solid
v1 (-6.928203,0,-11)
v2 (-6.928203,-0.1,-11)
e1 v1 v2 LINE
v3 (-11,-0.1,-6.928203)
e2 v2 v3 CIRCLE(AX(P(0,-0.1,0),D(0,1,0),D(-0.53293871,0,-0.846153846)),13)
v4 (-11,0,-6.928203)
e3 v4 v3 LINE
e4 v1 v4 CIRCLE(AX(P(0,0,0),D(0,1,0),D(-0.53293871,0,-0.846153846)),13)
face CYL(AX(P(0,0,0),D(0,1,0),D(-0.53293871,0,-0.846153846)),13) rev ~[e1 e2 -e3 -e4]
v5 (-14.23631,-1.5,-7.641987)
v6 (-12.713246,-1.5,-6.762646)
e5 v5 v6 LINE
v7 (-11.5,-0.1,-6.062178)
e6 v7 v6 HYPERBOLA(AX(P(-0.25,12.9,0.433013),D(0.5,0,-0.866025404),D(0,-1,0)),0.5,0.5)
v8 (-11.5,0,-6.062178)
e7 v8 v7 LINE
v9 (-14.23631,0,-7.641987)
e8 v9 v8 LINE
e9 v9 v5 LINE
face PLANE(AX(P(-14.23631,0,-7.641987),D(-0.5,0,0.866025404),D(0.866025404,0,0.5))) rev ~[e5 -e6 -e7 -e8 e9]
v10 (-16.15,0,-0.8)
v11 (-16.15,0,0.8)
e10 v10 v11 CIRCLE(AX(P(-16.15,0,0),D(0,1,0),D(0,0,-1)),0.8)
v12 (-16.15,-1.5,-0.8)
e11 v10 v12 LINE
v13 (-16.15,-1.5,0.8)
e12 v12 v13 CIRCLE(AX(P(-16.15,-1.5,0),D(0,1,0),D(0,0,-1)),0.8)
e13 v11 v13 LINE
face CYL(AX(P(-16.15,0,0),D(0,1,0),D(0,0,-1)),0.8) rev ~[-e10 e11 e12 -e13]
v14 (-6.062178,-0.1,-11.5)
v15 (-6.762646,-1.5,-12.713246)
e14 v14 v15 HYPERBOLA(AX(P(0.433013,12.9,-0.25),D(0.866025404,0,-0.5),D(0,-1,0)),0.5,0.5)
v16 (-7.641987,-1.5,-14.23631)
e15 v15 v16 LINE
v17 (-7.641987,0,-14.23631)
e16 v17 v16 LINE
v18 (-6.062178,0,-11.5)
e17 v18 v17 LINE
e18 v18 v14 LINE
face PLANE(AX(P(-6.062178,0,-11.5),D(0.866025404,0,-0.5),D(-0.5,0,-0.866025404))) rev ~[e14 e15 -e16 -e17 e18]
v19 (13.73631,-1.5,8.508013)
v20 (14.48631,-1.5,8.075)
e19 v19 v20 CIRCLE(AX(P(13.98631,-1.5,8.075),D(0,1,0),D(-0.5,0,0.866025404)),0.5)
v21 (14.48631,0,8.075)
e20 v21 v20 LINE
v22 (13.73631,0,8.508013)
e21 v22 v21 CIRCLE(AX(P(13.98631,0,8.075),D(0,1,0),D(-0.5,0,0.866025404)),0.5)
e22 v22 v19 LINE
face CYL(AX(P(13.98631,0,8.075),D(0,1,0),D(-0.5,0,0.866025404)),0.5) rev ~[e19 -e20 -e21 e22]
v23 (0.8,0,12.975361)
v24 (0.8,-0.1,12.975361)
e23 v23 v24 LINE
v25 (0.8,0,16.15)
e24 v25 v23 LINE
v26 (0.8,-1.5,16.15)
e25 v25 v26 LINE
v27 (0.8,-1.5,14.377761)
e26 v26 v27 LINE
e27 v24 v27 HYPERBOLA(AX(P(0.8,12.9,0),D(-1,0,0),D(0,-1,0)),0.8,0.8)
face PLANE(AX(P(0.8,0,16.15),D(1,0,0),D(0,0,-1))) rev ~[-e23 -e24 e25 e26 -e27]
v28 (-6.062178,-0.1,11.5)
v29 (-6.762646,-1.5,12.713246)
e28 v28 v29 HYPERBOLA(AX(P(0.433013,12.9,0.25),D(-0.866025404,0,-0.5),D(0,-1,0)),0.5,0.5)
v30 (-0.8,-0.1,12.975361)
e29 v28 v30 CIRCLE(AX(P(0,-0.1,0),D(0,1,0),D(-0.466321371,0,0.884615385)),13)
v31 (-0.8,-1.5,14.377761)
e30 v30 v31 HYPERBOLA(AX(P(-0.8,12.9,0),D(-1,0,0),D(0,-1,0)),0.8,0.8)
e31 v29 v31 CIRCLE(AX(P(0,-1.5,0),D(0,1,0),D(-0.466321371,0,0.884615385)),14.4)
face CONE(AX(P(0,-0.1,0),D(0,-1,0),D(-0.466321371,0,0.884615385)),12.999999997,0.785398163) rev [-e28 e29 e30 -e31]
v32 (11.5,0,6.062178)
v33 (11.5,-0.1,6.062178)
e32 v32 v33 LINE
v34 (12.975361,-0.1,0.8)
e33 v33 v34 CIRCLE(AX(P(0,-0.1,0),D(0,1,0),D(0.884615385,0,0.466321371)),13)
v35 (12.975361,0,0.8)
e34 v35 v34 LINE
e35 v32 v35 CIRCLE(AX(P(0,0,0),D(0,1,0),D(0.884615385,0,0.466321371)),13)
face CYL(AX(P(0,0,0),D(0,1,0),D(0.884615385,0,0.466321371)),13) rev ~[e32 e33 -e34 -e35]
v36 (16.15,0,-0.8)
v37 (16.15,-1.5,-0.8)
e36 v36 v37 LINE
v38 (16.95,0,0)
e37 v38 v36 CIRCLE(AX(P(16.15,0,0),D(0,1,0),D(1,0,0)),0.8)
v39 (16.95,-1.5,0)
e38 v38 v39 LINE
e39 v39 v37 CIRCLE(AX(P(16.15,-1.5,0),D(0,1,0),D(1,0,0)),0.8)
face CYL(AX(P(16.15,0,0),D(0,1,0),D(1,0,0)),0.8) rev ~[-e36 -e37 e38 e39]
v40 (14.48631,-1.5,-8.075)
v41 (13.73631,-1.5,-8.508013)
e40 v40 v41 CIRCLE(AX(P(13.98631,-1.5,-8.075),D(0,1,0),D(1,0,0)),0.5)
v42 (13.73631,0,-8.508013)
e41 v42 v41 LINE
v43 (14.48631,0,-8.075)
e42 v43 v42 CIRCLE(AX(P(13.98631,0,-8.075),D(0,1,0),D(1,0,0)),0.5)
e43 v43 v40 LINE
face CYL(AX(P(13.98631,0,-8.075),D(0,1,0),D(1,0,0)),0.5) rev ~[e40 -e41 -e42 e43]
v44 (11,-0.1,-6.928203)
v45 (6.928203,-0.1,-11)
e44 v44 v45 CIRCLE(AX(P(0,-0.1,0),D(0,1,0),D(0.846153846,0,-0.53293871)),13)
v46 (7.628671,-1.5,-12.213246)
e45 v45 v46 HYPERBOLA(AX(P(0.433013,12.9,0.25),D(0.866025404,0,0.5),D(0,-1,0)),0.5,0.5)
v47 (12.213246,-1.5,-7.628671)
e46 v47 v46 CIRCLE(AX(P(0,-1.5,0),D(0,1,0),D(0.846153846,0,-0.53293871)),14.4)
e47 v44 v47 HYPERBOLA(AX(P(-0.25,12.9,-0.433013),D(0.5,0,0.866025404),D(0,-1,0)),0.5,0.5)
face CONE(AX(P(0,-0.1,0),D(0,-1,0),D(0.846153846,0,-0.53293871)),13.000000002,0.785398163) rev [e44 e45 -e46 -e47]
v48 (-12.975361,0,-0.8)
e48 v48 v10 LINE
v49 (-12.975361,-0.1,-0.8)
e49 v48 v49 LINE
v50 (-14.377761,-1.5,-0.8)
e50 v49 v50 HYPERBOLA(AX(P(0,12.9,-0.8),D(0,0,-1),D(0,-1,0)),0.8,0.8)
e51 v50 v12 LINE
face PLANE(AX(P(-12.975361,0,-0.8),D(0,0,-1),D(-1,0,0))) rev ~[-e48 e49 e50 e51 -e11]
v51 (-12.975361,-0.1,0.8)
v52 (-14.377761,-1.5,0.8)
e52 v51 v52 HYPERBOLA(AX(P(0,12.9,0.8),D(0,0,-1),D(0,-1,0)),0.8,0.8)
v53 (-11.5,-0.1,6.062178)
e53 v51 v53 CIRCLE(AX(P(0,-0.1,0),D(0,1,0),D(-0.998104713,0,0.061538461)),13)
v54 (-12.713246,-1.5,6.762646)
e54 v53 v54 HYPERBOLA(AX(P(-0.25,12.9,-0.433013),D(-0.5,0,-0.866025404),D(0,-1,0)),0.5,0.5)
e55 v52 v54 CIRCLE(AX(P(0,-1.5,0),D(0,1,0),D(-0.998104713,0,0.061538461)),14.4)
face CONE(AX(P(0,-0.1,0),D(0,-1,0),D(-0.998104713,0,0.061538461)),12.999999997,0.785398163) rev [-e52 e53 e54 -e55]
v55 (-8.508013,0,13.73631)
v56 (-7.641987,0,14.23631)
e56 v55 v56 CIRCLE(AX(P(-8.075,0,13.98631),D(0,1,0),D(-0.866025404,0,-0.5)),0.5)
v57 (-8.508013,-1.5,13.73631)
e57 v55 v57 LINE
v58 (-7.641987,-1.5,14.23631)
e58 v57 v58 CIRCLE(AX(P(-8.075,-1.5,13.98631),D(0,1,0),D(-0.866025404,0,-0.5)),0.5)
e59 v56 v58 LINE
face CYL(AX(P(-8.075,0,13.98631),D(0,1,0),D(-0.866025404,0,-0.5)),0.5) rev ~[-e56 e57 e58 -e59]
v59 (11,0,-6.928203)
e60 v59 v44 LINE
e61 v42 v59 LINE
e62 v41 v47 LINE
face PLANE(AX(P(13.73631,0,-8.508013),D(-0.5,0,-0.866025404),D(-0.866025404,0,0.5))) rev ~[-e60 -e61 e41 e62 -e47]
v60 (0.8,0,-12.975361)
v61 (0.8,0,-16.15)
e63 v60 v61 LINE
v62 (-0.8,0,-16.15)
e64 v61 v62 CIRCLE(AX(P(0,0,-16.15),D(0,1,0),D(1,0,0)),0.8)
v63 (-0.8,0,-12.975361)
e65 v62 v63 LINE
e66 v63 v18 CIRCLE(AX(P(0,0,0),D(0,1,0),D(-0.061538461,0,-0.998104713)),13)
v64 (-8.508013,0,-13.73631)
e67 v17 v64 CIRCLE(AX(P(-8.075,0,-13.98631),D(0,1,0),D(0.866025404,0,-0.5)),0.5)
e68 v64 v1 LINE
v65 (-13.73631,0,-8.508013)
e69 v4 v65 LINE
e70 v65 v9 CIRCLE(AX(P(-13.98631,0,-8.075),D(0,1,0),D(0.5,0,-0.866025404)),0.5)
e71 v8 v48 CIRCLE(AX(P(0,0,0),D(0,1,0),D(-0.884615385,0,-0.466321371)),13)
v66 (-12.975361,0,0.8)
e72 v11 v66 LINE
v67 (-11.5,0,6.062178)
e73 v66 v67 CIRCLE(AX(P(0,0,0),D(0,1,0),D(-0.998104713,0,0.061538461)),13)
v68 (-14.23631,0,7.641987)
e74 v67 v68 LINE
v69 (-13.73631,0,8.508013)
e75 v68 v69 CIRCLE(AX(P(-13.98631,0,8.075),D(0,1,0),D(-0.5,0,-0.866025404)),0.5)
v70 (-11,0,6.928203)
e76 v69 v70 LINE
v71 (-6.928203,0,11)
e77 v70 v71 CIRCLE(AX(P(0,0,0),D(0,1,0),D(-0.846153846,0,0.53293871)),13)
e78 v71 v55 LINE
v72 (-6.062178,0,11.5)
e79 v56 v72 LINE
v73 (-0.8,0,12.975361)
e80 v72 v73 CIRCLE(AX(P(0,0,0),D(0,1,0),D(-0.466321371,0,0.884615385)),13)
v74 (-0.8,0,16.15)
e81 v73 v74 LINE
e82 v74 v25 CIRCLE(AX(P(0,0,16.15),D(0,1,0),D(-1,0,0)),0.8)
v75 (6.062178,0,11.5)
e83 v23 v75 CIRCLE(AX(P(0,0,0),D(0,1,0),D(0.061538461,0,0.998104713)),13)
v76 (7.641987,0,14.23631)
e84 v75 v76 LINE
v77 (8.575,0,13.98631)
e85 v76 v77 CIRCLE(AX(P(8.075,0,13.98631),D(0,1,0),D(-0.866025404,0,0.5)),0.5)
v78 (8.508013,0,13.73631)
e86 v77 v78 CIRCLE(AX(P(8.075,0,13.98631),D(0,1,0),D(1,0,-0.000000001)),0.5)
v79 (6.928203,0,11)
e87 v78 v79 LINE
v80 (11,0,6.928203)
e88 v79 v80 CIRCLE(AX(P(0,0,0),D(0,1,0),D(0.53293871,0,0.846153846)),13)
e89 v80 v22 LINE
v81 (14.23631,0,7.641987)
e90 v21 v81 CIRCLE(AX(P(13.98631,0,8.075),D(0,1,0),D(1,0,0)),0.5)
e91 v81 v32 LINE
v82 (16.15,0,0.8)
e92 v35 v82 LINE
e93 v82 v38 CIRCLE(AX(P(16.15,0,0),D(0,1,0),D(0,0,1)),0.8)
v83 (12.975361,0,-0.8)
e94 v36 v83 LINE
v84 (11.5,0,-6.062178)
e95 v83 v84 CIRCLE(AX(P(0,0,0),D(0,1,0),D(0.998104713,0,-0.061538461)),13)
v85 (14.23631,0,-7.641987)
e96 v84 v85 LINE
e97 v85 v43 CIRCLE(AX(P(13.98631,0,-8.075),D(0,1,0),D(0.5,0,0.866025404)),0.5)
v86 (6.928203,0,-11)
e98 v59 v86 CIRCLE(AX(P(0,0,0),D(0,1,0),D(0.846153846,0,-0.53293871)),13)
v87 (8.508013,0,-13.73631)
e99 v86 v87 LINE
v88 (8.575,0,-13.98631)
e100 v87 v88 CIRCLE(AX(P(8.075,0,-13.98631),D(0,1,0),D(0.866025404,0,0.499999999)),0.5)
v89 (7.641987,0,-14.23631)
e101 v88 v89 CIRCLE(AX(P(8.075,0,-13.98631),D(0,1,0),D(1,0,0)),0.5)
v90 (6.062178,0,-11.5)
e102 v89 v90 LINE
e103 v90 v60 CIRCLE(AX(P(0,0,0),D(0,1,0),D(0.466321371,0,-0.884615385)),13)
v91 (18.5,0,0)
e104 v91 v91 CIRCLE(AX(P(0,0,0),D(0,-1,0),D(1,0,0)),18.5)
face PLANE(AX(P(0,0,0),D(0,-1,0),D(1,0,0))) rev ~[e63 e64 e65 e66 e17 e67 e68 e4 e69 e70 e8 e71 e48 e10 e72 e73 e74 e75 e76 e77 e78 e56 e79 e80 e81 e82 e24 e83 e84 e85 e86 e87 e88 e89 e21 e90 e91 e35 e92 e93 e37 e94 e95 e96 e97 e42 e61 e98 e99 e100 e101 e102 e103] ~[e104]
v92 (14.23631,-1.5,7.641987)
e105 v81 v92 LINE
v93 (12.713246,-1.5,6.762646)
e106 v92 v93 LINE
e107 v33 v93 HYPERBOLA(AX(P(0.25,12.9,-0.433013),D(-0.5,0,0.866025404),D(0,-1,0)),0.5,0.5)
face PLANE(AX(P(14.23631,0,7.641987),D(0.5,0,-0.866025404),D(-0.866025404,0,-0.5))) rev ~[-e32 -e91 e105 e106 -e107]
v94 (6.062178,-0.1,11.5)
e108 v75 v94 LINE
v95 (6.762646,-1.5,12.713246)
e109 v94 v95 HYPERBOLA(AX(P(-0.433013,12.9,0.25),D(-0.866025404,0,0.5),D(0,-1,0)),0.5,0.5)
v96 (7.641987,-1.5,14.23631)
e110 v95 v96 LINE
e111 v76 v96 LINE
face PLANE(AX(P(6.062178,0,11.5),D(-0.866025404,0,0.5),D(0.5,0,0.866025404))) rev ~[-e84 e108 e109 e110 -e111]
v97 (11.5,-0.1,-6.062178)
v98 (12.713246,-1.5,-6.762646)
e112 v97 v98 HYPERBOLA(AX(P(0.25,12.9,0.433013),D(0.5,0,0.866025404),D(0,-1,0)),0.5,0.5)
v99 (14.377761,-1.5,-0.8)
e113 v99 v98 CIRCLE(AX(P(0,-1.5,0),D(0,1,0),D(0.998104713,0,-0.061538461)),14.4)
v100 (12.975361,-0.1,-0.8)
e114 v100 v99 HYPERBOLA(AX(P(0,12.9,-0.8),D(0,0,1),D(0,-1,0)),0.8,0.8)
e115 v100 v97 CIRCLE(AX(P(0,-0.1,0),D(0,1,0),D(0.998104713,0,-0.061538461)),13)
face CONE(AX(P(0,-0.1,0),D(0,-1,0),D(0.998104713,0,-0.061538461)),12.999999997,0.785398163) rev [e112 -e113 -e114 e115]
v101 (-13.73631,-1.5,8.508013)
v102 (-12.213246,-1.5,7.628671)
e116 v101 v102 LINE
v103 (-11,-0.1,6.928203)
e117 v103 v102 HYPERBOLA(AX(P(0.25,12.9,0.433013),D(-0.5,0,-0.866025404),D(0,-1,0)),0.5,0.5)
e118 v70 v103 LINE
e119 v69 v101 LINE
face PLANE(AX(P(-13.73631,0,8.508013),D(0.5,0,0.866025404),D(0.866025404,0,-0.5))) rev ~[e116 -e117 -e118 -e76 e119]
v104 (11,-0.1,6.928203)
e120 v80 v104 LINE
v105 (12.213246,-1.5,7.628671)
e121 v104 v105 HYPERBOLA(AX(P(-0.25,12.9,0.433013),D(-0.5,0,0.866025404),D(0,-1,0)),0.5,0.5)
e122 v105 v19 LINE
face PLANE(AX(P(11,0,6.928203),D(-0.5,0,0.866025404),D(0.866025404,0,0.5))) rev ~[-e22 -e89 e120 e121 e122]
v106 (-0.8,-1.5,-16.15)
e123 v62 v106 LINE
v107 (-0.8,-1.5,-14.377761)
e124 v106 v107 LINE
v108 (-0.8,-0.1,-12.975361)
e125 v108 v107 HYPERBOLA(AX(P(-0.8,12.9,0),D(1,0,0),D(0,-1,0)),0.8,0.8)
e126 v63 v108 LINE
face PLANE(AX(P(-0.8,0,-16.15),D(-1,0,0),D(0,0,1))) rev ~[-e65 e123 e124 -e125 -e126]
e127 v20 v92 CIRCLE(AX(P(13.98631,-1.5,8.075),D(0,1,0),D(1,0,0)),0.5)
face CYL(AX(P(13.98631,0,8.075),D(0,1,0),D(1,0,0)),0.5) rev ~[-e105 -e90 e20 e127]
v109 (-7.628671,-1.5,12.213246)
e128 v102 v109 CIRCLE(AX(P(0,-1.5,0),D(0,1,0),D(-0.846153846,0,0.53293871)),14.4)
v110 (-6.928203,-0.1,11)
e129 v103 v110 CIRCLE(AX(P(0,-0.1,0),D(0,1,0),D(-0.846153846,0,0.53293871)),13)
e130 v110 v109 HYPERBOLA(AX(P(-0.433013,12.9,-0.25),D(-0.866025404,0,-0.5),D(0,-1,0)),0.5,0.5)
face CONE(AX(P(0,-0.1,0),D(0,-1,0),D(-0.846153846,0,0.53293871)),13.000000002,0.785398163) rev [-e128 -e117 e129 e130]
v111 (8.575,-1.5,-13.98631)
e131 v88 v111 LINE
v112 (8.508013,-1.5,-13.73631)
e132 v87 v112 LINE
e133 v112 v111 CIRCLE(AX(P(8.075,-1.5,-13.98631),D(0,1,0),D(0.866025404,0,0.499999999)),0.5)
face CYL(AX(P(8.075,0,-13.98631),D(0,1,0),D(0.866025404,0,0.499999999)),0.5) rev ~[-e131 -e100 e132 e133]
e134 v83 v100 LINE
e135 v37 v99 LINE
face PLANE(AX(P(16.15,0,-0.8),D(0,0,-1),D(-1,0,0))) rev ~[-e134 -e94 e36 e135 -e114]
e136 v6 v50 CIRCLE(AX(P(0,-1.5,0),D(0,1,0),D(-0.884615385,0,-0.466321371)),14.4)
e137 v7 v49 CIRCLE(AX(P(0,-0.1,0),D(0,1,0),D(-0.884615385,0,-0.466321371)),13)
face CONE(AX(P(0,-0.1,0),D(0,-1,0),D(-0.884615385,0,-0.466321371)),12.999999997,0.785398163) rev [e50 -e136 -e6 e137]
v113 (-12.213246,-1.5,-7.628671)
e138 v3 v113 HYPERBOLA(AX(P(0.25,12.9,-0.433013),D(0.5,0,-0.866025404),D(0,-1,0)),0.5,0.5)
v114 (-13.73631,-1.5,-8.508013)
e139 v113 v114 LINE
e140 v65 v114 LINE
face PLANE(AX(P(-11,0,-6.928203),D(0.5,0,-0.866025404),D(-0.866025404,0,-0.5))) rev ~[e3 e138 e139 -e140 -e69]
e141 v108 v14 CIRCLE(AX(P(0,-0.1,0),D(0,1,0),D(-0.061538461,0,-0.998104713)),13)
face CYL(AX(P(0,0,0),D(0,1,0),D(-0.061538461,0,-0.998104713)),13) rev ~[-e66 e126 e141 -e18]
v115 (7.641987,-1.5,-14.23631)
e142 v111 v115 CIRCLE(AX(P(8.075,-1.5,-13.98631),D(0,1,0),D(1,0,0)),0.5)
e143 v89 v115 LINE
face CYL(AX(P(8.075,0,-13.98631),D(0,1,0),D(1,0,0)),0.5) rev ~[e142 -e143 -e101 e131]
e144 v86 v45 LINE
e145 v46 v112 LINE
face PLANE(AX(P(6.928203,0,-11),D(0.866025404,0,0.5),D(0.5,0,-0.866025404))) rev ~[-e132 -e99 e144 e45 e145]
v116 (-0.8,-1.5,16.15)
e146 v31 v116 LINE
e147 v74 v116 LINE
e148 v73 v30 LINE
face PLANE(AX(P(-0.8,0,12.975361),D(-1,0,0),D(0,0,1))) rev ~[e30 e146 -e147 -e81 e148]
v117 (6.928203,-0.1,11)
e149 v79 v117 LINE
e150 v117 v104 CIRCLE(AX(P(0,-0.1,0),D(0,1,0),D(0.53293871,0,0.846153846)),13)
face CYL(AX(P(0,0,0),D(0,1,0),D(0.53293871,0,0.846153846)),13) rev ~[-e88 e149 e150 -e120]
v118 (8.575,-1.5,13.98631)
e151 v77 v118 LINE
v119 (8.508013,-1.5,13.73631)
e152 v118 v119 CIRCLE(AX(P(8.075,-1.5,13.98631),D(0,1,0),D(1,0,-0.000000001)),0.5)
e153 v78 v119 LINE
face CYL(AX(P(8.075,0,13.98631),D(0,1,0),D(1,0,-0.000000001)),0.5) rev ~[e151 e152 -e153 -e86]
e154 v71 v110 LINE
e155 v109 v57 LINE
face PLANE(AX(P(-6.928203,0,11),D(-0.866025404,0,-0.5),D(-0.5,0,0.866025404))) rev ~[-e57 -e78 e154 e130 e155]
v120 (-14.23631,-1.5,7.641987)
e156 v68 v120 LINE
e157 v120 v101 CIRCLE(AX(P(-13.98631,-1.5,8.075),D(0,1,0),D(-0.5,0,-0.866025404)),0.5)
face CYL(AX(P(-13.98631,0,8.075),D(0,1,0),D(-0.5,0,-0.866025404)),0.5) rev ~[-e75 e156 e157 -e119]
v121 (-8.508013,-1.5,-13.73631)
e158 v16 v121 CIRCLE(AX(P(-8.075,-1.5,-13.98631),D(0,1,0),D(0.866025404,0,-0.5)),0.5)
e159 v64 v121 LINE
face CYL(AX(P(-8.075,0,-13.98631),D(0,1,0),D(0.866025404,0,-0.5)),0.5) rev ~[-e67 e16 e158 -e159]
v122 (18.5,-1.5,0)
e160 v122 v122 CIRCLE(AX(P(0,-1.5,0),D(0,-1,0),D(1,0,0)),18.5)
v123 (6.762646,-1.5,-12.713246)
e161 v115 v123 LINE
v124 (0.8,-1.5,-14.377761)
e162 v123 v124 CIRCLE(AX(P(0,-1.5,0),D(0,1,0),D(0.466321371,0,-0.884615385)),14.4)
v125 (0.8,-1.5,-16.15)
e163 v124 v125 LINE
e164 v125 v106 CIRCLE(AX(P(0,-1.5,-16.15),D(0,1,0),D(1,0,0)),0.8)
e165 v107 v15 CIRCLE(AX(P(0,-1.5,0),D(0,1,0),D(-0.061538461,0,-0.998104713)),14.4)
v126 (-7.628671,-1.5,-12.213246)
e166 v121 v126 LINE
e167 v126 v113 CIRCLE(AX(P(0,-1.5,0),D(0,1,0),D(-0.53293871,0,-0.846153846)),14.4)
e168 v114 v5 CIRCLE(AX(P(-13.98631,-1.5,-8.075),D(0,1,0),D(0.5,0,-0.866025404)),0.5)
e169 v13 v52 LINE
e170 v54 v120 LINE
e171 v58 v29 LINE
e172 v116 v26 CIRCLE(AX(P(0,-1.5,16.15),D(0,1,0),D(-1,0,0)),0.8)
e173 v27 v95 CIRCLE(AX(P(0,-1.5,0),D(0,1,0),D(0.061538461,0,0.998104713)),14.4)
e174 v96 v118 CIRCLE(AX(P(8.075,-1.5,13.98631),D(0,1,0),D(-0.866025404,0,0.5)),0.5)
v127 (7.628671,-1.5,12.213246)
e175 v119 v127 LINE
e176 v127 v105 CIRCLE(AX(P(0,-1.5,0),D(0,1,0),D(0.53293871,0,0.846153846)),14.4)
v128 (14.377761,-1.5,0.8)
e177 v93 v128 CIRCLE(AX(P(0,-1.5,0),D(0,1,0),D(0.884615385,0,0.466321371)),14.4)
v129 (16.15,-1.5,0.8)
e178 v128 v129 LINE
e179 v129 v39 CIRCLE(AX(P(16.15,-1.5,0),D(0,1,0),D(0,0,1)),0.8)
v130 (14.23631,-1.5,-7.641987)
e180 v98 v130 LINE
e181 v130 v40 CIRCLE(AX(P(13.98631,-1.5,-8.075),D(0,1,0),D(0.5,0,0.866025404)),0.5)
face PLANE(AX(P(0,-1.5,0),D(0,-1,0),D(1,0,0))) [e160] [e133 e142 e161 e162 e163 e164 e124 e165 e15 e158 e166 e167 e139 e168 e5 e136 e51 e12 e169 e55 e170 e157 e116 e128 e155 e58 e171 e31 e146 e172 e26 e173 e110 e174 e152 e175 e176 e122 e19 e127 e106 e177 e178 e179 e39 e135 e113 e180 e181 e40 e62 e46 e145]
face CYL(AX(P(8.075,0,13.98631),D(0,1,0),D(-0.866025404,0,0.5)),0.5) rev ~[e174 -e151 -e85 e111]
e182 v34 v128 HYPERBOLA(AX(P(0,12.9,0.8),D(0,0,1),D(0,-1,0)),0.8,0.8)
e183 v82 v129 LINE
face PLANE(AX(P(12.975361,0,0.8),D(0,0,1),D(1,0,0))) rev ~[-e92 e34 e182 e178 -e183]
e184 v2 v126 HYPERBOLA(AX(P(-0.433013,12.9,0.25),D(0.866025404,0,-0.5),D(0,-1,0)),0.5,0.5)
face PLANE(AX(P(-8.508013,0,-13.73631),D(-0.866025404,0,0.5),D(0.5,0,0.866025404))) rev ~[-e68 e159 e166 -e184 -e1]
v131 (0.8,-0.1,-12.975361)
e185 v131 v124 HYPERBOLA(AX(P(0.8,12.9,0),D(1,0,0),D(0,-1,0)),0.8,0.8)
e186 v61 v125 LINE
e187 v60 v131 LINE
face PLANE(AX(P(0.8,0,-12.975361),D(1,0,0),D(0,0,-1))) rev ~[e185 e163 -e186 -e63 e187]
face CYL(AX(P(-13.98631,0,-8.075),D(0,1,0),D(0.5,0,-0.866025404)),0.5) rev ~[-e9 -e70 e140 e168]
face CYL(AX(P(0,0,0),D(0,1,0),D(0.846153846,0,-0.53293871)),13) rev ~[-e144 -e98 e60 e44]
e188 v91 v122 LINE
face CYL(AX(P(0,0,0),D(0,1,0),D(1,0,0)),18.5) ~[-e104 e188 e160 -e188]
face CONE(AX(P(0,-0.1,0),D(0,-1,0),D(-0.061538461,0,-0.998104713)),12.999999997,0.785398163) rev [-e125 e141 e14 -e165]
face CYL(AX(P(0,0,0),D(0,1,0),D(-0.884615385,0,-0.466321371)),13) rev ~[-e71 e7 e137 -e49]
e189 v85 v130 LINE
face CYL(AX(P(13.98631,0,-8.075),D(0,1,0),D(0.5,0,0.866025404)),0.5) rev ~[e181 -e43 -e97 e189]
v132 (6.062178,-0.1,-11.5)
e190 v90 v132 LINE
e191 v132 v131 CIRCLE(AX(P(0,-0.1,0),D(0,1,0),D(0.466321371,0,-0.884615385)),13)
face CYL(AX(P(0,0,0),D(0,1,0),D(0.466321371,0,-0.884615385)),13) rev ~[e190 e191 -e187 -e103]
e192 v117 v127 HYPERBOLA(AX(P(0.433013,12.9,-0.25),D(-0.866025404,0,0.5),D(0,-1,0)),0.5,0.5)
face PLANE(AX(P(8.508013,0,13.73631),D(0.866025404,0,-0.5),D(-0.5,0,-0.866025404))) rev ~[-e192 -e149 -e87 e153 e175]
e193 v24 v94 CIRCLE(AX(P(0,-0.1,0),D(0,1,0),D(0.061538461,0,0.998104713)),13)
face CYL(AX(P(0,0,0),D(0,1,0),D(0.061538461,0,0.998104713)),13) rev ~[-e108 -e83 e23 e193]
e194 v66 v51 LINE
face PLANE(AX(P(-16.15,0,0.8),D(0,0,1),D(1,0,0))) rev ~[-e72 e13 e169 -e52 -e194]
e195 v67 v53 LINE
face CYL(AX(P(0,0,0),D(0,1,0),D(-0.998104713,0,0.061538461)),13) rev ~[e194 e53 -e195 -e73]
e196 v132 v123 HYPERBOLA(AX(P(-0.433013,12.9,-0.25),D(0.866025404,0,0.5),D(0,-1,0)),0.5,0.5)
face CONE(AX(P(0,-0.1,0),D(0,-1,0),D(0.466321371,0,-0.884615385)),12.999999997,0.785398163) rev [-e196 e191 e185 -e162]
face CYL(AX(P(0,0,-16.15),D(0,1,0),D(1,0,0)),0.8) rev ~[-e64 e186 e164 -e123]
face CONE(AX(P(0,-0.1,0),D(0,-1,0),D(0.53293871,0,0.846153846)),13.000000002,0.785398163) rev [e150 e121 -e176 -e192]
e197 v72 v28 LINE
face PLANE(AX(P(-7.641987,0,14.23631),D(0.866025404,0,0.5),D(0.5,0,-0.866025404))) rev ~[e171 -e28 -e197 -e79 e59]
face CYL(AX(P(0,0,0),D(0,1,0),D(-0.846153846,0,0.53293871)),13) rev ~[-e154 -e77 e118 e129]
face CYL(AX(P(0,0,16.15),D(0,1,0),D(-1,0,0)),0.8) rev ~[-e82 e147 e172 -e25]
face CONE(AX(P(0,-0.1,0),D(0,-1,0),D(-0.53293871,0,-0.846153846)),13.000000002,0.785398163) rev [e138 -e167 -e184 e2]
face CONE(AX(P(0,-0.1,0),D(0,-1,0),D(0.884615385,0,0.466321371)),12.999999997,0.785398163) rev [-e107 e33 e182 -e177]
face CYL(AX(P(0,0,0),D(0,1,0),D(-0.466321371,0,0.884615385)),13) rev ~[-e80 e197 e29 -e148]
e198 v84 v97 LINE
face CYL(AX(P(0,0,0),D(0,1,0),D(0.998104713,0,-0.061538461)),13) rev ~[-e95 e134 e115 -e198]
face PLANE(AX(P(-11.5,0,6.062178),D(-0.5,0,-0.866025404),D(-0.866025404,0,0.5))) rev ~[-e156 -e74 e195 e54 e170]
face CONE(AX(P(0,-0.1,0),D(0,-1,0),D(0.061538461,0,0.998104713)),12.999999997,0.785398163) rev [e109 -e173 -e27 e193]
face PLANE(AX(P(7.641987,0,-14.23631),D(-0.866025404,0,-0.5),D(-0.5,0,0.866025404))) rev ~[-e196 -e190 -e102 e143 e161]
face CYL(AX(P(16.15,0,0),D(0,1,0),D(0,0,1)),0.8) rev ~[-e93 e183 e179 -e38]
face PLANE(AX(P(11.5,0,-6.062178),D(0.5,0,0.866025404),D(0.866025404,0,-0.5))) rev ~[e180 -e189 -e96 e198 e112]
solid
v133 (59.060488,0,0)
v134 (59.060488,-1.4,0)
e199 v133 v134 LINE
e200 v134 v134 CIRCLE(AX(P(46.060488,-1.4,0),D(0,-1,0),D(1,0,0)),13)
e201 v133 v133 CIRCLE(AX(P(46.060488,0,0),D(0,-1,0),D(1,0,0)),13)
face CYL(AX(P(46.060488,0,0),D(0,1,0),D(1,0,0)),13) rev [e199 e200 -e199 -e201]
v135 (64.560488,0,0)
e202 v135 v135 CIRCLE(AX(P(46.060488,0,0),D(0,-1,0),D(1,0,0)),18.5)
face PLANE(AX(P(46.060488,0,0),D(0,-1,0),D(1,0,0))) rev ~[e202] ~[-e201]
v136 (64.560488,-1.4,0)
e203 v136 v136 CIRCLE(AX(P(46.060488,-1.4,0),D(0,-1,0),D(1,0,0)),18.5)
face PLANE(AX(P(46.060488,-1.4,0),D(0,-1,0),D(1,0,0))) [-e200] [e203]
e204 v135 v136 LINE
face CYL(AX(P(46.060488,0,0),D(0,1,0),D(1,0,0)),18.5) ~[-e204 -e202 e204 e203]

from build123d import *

# Parameters (mm, degrees)
F0_R     = 18.5
F1_DEPTH = 1.5
F2_SIZE  = 1.4
F0_R_2   = 13
F3_DEPTH = 1.4


with BuildPart() as f1:
    # F0 (on Front) → F1 (new body)
    with BuildSketch(Plane.XZ):
        Circle(F0_R)
        with BuildLine():
            ThreePointArc((11.5, 6.0621778265), (12.5173262382, 3.509493389), (12.9753612666, 0.8))
            Line((12.9753612666, 0.8), (16.15, 0.8))
            ThreePointArc((16.15, 0.8), (16.7156854249, 0.5656854249), (16.95, 0))
            ThreePointArc((16.95, 0), (16.7156854249, -0.5656854249), (16.15, -0.8))
            Line((16.15, -0.8), (12.9753612666, -0.8))
            ThreePointArc((12.9753612666, -0.8), (12.5173262382, -3.509493389), (11.5, -6.0621778265))
            Line((11.5, -6.0621778265), (14.2363102711, -7.6419872981))
            ThreePointArc((14.2363102711, -7.6419872981), (14.419322973, -7.825), (14.4863102711, -8.075))
            ThreePointArc((14.4863102711, -8.075), (14.2363102711, -8.5080127019), (13.7363102711, -8.5080127019))
            Line((13.7363102711, -8.5080127019), (11, -6.9282032303))
            ThreePointArc((11, -6.9282032303), (9.1923881554, -9.1923881554), (6.9282032303, -11))
            Line((6.9282032303, -11), (8.5080127019, -13.7363102711))
            ThreePointArc((8.5080127019, -13.7363102711), (8.5579629131, -13.8569007486), (8.575, -13.9863102711))
            ThreePointArc((8.575, -13.9863102711), (8.2044095226, -14.4692731843), (7.6419872981, -14.2363102711))
            Line((7.6419872981, -14.2363102711), (6.0621778265, -11.5))
            ThreePointArc((6.0621778265, -11.5), (3.509493389, -12.5173262382), (0.8, -12.9753612666))
            Line((0.8, -12.9753612666), (0.8, -16.15))
            ThreePointArc((0.8, -16.15), (0, -16.95), (-0.8, -16.15))
            Line((-0.8, -16.15), (-0.8, -12.9753612666))
            ThreePointArc((-0.8, -12.9753612666), (-3.509493389, -12.5173262382), (-6.0621778265, -11.5))
            Line((-6.0621778265, -11.5), (-7.6419872981, -14.2363102711))
            ThreePointArc((-7.6419872981, -14.2363102711), (-8.325, -14.419322973), (-8.5080127019, -13.7363102711))
            Line((-8.5080127019, -13.7363102711), (-6.9282032303, -11))
            ThreePointArc((-6.9282032303, -11), (-9.1923881554, -9.1923881554), (-11, -6.9282032303))
            Line((-11, -6.9282032303), (-13.7363102711, -8.5080127019))
            ThreePointArc((-13.7363102711, -8.5080127019), (-14.419322973, -8.325), (-14.2363102711, -7.6419872981))
            Line((-14.2363102711, -7.6419872981), (-11.5, -6.0621778265))
            ThreePointArc((-11.5, -6.0621778265), (-12.5173262382, -3.509493389), (-12.9753612666, -0.8))
            Line((-12.9753612666, -0.8), (-16.15, -0.8))
            ThreePointArc((-16.15, -0.8), (-16.95, 0), (-16.15, 0.8))
            Line((-16.15, 0.8), (-12.9753612666, 0.8))
            ThreePointArc((-12.9753612666, 0.8), (-12.5173262382, 3.509493389), (-11.5, 6.0621778265))
            Line((-11.5, 6.0621778265), (-14.2363102711, 7.6419872981))
            ThreePointArc((-14.2363102711, 7.6419872981), (-14.419322973, 8.325), (-13.7363102711, 8.5080127019))
            Line((-13.7363102711, 8.5080127019), (-11, 6.9282032303))
            ThreePointArc((-11, 6.9282032303), (-9.1923881554, 9.1923881554), (-6.9282032303, 11))
            Line((-6.9282032303, 11), (-8.5080127019, 13.7363102711))
            ThreePointArc((-8.5080127019, 13.7363102711), (-8.325, 14.419322973), (-7.6419872981, 14.2363102711))
            Line((-7.6419872981, 14.2363102711), (-6.0621778265, 11.5))
            ThreePointArc((-6.0621778265, 11.5), (-3.509493389, 12.5173262382), (-0.8, 12.9753612666))
            Line((-0.8, 12.9753612666), (-0.8, 16.15))
            ThreePointArc((-0.8, 16.15), (0, 16.95), (0.8, 16.15))
            Line((0.8, 16.15), (0.8, 12.9753612666))
            ThreePointArc((0.8, 12.9753612666), (3.509493389, 12.5173262382), (6.0621778265, 11.5))
            Line((6.0621778265, 11.5), (7.6419872981, 14.2363102711))
            ThreePointArc((7.6419872981, 14.2363102711), (8.2044095226, 14.4692731843), (8.575, 13.9863102711))
            ThreePointArc((8.575, 13.9863102711), (8.5579629131, 13.8569007486), (8.5080127019, 13.7363102711))
            Line((8.5080127019, 13.7363102711), (6.9282032303, 11))
            ThreePointArc((6.9282032303, 11), (9.1923881554, 9.1923881554), (11, 6.9282032303))
            Line((11, 6.9282032303), (13.7363102711, 8.5080127019))
            ThreePointArc((13.7363102711, 8.5080127019), (14.2363102711, 8.5080127019), (14.4863102711, 8.075))
            ThreePointArc((14.4863102711, 8.075), (14.419322973, 7.825), (14.2363102711, 7.6419872981))
            Line((14.2363102711, 7.6419872981), (11.5, 6.0621778265))
        make_face(mode=Mode.SUBTRACT)
    extrude(amount=F1_DEPTH)

    # F2
    f2_edges = [f1.edges().sort_by_distance(p)[0] for p in [
        (-12.517326, -1.5, 3.509493),
        (-9.192388, -1.5, 9.192388),
        (-3.509493, -1.5, 12.517326),
        (3.509493, -1.5, 12.517326),
        (9.192388, -1.5, 9.192388),
        (12.517326, -1.5, 3.509493),
        (12.517326, -1.5, -3.509493),
        (9.192388, -1.5, -9.192388),
        (3.509493, -1.5, -12.517326),
        (-3.509493, -1.5, -12.517326),
        (-9.192388, -1.5, -9.192388),
        (-12.517326, -1.5, -3.509493),
    ]]
    chamfer(f2_edges, length=F2_SIZE)


with BuildPart() as f3:
    # F0 (on Front) → F3 (new body)
    with BuildSketch(Plane.XZ):
        with Locations((46.060487628, 0)):
            Circle(F0_R)
        with Locations((46.060487628, 0)):
            Circle(F0_R_2, mode=Mode.SUBTRACT)
    extrude(amount=F3_DEPTH)


solid = Compound([f1.part, f3.part])
